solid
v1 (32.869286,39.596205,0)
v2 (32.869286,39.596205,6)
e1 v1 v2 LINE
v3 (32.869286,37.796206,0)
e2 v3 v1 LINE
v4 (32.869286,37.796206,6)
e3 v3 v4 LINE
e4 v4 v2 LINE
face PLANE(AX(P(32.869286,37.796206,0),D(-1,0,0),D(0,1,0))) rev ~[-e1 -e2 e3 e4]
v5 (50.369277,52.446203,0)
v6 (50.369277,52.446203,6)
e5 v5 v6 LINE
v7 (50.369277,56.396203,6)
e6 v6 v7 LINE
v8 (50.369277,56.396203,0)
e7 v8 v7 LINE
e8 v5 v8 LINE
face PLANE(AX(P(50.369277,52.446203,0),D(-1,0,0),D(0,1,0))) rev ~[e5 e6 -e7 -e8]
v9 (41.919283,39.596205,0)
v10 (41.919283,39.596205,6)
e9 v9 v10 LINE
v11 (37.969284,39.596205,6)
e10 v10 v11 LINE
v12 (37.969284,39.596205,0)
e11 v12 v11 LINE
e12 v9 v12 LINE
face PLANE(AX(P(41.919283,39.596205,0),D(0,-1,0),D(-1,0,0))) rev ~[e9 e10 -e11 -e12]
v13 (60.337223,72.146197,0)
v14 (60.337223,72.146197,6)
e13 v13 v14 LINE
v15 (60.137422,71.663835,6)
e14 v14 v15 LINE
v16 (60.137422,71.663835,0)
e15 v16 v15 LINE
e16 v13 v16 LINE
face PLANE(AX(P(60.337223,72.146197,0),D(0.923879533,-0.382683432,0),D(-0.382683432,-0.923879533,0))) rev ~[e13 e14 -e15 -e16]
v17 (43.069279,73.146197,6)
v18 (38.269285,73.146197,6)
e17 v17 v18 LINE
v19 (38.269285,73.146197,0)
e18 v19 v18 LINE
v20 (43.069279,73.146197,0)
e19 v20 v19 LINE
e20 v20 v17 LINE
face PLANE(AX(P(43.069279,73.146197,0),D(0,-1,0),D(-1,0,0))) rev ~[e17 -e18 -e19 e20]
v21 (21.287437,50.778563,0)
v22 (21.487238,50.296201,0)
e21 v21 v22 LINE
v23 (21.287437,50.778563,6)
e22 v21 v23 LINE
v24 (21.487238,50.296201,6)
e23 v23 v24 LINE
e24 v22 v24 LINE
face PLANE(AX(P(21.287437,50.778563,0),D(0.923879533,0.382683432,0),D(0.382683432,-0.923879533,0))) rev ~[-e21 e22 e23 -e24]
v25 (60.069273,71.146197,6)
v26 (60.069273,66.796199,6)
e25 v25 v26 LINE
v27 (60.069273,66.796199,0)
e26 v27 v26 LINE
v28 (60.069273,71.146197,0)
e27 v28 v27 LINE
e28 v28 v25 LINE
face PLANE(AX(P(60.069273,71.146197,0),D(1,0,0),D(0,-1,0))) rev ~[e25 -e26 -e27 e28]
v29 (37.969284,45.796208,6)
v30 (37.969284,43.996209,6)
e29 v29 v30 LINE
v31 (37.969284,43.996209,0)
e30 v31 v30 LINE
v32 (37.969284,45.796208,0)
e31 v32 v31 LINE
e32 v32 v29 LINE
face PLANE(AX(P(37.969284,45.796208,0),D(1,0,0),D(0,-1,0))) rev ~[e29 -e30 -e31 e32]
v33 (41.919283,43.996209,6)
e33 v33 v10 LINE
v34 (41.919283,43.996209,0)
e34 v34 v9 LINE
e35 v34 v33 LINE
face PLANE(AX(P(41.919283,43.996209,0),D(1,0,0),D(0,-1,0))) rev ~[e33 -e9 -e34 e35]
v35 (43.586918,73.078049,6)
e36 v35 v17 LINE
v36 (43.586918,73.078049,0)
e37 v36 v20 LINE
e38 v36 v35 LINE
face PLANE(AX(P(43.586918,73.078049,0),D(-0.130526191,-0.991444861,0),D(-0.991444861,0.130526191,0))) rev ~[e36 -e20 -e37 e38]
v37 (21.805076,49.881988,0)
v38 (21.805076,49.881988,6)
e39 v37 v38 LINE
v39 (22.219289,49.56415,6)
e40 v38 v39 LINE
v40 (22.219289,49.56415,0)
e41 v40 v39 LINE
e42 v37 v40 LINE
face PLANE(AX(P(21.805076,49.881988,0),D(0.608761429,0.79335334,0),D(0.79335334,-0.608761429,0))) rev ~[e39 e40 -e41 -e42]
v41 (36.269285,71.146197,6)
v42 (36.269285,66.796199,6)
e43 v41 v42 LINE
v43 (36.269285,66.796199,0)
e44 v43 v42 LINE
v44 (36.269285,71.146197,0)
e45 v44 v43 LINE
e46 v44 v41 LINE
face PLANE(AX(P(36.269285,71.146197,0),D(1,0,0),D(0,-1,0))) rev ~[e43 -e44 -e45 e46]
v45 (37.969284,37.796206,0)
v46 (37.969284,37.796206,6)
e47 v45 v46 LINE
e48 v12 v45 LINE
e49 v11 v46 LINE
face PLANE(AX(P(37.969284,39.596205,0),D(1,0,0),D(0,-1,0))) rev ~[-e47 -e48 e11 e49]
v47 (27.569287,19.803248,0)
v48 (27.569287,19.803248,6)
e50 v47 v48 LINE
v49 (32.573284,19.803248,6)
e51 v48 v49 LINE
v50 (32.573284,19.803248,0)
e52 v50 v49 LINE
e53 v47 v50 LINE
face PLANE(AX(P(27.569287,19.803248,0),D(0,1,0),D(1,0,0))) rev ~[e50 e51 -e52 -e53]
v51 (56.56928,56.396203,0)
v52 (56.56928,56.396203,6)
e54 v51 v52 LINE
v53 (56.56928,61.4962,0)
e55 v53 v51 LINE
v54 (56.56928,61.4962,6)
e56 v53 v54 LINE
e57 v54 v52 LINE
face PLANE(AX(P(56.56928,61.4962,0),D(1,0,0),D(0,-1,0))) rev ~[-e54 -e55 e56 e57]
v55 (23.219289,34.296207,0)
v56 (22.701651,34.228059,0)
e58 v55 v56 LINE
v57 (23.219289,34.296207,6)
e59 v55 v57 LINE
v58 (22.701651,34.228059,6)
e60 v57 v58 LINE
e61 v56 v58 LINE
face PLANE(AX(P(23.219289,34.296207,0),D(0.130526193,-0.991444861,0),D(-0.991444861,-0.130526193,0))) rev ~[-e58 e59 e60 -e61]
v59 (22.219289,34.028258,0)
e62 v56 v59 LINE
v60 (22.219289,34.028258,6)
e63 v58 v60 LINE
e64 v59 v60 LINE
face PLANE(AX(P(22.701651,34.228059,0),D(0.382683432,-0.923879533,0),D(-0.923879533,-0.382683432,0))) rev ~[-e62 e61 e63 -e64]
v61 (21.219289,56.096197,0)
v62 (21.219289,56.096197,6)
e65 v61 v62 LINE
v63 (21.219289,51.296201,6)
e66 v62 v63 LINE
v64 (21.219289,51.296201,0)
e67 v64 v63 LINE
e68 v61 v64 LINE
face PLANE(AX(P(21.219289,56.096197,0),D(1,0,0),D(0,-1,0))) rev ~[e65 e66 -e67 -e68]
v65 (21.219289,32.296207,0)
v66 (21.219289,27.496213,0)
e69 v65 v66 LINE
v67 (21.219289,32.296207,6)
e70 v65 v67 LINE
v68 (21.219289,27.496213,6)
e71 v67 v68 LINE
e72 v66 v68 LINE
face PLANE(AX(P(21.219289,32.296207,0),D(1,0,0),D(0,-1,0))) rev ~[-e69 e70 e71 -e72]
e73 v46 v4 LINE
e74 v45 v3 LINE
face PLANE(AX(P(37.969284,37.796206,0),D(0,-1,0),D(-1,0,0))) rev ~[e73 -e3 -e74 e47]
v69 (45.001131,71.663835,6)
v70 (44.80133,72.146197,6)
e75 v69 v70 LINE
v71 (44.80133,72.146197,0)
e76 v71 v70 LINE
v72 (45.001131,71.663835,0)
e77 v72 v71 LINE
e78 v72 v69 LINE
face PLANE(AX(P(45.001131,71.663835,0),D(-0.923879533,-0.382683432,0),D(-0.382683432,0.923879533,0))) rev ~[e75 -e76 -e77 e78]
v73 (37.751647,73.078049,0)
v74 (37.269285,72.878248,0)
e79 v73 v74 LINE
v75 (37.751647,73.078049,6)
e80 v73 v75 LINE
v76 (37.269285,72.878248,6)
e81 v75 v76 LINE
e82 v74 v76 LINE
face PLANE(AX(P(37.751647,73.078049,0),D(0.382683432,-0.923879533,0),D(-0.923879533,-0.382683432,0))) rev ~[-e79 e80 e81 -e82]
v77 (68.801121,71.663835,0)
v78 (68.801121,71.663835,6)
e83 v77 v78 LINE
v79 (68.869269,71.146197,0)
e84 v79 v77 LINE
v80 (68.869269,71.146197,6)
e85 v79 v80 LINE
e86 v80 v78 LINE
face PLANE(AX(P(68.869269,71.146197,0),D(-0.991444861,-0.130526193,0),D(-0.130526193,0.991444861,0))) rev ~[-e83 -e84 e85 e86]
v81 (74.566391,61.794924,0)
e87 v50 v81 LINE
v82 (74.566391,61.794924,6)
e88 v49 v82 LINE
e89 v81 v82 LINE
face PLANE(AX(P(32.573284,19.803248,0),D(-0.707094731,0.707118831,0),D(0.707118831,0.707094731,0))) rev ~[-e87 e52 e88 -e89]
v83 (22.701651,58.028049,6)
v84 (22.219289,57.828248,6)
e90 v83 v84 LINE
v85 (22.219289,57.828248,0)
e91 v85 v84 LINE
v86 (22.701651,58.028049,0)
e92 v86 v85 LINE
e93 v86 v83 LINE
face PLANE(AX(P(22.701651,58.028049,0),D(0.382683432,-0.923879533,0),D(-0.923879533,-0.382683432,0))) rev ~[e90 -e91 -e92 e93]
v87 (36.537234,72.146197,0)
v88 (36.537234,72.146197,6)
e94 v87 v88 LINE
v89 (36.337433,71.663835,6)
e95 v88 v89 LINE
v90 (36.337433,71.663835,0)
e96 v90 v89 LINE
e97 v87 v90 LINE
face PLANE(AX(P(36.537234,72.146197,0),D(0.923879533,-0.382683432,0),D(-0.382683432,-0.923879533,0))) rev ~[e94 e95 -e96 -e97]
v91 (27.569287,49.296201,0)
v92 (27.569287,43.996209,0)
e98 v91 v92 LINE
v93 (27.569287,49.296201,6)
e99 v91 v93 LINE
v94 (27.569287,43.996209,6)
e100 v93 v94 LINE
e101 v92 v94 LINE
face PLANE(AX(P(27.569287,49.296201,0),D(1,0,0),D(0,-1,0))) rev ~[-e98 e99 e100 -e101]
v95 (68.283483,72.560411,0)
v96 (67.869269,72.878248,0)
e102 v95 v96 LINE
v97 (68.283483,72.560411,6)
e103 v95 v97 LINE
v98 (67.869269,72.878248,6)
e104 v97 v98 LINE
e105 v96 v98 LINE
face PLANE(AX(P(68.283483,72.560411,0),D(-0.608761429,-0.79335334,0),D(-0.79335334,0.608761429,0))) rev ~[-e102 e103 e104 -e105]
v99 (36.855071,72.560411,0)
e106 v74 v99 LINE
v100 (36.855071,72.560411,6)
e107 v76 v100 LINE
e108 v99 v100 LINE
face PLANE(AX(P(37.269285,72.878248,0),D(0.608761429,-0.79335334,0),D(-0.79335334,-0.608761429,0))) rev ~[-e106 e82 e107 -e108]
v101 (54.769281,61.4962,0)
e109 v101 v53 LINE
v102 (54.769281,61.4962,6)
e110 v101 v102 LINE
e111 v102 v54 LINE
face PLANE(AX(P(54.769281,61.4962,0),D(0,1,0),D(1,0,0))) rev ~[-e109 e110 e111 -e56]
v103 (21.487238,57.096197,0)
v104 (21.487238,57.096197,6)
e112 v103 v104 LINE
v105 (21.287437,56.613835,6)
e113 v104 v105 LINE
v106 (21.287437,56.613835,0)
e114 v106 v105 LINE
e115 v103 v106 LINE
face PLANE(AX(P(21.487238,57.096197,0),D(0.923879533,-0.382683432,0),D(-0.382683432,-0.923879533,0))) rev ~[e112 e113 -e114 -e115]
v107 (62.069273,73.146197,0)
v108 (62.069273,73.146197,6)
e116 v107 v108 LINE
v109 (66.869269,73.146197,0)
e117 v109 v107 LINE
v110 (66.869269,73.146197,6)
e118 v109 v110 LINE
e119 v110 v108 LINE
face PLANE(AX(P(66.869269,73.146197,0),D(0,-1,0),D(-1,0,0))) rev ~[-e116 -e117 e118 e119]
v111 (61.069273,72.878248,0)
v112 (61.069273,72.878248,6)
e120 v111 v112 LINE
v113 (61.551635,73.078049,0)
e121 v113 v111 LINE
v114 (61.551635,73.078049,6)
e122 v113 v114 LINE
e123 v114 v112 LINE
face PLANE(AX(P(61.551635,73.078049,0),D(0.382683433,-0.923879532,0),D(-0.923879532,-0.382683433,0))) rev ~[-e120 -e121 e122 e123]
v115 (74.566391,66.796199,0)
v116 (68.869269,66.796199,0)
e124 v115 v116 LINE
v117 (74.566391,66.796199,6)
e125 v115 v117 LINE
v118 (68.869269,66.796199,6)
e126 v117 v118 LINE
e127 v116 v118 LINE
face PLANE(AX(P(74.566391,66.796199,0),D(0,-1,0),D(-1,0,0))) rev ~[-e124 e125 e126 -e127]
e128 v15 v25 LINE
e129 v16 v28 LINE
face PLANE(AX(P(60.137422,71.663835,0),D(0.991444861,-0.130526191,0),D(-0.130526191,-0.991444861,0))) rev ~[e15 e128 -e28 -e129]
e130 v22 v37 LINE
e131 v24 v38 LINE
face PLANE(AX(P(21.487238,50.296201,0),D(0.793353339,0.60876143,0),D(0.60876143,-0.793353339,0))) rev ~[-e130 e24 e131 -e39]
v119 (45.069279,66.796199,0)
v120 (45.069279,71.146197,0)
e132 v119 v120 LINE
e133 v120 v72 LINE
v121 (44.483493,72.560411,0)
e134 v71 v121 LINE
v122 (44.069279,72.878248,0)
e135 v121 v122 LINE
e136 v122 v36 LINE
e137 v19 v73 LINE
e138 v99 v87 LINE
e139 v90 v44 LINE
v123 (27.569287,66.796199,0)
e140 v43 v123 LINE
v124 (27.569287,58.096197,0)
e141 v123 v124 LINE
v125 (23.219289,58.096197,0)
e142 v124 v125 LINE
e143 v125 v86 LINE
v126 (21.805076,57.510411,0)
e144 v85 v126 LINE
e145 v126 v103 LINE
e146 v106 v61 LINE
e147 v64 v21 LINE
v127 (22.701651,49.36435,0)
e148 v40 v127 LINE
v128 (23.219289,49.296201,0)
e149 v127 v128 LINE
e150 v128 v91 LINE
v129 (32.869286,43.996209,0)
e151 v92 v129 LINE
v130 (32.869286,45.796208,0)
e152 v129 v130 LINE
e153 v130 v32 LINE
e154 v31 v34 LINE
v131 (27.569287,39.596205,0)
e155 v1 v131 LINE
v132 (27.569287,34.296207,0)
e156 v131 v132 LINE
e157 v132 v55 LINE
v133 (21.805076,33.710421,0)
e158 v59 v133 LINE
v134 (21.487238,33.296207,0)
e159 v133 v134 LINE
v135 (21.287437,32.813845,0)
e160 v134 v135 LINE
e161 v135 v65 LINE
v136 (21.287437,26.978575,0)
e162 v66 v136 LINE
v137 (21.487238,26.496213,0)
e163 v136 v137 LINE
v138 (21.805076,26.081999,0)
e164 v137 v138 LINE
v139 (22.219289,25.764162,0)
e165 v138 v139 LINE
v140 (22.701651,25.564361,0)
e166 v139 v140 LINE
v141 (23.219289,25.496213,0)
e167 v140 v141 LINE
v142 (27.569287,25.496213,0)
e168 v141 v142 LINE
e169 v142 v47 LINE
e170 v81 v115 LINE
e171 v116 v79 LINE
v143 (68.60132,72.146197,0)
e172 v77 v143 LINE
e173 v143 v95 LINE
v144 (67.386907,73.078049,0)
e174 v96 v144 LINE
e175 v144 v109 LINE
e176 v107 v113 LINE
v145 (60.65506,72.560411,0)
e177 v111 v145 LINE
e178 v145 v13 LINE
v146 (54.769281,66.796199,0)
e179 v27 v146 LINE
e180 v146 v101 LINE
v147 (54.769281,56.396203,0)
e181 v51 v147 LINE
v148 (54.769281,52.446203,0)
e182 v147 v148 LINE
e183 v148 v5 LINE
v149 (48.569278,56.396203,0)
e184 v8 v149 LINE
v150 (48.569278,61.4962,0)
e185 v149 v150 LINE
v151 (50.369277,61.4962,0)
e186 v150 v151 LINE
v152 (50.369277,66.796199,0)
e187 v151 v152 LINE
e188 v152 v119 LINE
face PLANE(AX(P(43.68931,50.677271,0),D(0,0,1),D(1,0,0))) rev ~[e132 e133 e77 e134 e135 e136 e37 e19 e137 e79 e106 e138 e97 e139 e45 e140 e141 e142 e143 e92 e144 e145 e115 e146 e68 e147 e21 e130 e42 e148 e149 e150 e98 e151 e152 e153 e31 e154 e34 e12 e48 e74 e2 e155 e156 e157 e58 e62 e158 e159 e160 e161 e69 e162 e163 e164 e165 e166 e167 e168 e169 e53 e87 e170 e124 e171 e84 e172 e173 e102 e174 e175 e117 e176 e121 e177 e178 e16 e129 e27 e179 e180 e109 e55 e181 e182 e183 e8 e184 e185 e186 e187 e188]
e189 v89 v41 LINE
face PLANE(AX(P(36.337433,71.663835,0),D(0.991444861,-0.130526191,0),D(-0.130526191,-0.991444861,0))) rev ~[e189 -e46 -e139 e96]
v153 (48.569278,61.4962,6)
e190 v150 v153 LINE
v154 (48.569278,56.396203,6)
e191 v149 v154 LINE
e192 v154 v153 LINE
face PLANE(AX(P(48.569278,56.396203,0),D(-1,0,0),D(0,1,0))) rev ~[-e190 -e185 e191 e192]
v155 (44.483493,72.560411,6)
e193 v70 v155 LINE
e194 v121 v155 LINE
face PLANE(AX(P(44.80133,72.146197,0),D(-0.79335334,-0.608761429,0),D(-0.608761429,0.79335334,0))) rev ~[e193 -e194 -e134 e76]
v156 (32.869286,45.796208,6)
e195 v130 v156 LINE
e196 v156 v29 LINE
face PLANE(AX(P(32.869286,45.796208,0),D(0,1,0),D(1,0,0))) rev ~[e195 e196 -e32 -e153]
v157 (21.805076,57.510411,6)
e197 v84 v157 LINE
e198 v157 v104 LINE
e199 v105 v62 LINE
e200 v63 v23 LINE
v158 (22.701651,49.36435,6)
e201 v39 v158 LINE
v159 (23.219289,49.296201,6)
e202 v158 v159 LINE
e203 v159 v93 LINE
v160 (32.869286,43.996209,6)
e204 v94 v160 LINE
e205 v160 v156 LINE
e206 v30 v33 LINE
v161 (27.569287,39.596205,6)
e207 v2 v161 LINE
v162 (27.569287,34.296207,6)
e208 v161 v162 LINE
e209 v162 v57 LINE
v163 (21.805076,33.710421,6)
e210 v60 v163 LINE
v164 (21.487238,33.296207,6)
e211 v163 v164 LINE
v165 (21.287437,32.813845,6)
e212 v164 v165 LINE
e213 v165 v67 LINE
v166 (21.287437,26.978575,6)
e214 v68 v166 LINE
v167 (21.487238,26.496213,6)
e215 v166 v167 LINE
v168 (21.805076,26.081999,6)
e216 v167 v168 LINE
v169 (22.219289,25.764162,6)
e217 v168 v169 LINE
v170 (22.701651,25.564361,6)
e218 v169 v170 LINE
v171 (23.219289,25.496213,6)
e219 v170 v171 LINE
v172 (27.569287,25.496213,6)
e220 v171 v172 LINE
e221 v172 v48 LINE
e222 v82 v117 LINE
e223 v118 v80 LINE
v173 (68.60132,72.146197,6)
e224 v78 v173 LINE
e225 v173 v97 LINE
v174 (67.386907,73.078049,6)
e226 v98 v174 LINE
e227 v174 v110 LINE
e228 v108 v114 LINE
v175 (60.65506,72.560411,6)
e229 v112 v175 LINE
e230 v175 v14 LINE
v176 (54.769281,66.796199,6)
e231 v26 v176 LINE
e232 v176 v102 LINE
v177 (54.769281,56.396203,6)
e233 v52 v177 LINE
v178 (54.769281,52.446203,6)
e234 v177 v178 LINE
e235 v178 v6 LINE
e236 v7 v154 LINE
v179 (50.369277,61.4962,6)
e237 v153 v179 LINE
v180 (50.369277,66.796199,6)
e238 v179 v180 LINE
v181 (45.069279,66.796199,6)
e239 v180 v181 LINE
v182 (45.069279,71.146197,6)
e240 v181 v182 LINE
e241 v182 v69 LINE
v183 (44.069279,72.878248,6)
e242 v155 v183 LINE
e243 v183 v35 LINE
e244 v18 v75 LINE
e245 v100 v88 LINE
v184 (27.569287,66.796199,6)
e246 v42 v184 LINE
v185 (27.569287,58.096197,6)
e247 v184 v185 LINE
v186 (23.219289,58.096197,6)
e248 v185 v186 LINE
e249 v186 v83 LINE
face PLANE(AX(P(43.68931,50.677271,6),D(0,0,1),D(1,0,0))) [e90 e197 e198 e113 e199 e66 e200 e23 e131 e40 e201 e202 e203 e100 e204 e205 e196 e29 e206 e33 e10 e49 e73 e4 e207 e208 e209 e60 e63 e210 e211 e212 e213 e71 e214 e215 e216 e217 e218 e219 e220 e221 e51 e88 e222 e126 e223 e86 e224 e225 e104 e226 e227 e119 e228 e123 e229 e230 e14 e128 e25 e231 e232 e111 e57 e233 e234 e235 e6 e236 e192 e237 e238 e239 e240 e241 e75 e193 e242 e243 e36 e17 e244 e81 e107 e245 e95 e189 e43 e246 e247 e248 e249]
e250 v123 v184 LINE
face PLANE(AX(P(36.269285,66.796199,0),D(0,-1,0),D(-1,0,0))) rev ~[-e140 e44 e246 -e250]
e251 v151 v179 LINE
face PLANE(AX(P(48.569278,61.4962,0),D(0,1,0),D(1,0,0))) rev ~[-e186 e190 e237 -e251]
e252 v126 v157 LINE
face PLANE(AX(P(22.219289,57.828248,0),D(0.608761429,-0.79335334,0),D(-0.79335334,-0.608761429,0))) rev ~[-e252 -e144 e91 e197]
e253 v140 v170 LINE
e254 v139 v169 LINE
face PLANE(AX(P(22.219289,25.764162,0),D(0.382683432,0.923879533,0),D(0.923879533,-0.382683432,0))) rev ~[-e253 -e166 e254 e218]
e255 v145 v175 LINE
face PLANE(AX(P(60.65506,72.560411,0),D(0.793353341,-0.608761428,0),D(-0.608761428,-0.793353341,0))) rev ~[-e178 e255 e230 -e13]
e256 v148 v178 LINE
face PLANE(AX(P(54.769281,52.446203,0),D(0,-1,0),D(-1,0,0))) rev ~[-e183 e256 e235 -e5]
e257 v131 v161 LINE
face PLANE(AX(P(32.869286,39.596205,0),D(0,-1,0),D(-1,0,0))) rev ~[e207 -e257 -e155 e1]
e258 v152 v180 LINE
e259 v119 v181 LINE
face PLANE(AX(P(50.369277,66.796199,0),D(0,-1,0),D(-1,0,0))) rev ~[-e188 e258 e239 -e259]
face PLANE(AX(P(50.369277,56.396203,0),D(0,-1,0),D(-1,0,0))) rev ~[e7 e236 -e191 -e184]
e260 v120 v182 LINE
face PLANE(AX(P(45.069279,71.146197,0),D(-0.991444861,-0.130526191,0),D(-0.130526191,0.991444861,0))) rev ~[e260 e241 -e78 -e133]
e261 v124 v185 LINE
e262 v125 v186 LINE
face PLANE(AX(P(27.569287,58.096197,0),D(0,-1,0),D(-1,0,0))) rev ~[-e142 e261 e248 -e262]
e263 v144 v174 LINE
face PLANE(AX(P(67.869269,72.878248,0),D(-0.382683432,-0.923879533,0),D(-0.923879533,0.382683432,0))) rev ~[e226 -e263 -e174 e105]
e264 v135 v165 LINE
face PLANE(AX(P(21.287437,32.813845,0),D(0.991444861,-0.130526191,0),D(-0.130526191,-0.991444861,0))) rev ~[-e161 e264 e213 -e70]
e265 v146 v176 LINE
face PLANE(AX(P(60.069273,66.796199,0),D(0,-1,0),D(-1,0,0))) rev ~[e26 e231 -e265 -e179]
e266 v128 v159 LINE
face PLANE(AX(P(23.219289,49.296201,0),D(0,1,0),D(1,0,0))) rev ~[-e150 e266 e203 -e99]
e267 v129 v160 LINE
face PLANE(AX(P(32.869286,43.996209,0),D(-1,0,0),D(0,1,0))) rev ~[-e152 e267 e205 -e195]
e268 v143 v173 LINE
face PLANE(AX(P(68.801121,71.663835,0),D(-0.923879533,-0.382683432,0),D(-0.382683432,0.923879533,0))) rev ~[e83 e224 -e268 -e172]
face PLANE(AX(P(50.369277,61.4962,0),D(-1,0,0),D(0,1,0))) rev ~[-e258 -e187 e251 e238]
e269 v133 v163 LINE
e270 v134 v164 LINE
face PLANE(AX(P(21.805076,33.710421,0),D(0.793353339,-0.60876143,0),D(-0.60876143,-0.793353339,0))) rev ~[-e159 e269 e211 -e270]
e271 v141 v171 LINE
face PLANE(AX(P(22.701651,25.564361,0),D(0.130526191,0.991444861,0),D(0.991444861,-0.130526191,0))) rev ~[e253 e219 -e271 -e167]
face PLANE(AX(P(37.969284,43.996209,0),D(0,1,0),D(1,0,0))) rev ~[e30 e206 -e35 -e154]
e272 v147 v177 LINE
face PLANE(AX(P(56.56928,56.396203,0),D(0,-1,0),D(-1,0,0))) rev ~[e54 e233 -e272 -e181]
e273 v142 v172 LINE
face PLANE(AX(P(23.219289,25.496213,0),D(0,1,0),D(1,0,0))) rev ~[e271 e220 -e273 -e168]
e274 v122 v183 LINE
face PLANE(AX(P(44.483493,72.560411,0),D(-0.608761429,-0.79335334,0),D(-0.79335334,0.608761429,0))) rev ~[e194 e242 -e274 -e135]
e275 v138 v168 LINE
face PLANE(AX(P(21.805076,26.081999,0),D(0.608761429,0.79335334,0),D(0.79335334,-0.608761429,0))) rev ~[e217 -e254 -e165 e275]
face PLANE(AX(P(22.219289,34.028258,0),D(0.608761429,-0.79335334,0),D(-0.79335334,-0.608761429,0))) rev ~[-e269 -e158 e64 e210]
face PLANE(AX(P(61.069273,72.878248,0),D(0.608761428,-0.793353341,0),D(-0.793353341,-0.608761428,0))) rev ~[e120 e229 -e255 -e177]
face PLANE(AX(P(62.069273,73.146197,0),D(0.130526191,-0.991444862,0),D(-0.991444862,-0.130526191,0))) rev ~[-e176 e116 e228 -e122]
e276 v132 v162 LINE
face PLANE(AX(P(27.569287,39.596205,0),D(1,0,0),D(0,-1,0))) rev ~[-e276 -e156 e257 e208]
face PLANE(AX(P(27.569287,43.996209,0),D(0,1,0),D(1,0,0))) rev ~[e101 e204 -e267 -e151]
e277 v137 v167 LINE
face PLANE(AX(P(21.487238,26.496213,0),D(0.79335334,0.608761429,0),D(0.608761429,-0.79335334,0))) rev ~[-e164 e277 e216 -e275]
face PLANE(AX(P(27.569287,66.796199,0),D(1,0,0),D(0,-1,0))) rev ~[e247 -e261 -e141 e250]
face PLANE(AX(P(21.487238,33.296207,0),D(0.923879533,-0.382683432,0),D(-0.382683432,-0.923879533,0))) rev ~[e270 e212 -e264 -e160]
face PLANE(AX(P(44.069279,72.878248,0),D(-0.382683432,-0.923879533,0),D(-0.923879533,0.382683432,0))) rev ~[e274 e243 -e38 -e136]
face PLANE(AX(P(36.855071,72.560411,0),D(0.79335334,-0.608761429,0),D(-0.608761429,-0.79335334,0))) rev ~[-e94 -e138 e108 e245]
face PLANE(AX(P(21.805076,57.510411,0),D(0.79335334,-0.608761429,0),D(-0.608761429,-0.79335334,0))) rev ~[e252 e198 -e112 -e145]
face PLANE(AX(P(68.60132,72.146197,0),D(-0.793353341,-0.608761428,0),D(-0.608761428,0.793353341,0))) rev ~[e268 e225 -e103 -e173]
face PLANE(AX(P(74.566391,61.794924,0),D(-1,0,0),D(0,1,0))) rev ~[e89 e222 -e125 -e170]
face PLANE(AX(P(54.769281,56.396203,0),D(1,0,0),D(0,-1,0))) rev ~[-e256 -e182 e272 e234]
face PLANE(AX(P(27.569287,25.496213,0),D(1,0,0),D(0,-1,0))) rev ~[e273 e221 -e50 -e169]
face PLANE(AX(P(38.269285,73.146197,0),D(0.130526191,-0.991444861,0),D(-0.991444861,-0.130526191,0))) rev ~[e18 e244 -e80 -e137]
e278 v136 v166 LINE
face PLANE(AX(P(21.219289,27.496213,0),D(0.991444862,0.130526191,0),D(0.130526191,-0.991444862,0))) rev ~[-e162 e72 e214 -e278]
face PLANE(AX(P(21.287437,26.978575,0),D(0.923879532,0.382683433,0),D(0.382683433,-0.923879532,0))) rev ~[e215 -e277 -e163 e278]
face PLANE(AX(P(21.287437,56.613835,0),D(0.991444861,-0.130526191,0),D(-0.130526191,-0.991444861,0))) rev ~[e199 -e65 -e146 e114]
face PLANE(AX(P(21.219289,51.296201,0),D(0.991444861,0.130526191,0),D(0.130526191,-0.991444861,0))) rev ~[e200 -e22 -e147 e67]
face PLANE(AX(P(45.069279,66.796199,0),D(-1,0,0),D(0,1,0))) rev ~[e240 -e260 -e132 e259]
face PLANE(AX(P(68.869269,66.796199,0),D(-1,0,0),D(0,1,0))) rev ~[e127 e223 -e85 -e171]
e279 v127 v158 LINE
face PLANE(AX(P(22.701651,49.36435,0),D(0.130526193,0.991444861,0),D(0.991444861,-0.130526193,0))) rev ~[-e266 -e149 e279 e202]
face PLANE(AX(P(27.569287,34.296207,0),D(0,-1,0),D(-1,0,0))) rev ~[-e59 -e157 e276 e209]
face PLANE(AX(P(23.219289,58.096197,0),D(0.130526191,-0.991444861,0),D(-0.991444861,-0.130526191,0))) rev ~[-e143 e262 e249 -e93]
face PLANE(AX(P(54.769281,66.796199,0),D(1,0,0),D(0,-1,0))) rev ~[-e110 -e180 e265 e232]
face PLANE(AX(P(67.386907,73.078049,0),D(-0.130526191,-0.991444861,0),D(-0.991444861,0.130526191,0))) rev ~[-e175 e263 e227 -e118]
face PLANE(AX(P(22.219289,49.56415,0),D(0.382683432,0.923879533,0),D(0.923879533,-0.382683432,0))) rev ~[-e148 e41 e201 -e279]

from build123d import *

# Parameters (mm, degrees)
RESSALTO_EXTRUS_O1_DEPTH = 6


with BuildPart() as part:
    # Model → Ressalto-extrusão1 (new body)
    with BuildSketch(Plane.XY):
        Polygon((37.969283539, 43.996209277), (41.919283362, 43.996209277), (41.919283362, 39.596204606), (37.969283539, 39.596204606), (37.969283539, 37.796206374), (32.869285775, 37.796206374), (32.869285775, 39.596204606), (27.569286953, 39.596204606), (27.569286953, 34.296207351), (23.219289062, 34.296207351), (22.701650972, 34.228059003), (22.219289062, 34.028258158), (21.8050755, 33.710420913), (21.487238254, 33.296207351), (21.287437409, 32.813845441), (21.219289062, 32.296207351), (21.219289062, 27.496212909), (21.287437409, 26.978574818), (21.487238254, 26.496212909), (21.8050755, 26.081999346), (22.219289062, 25.764162101), (22.701650972, 25.564361256), (23.219289062, 25.496212909), (27.569286953, 25.496212909), (27.569286953, 19.803247953), (32.573283526, 19.803247953), (74.566390822, 61.794924044), (74.566390822, 66.796199314), (68.869269338, 66.796199314), (68.869269338, 71.146197205), (68.80112099, 71.663835295), (68.601320145, 72.146197205), (68.2834829, 72.560410768), (67.869269338, 72.878248013), (67.386907428, 73.078048858), (66.869269338, 73.146197205), (62.069273373, 73.146197205), (61.551635282, 73.078048858), (61.069273373, 72.878248013), (60.65505981, 72.560410768), (60.337222565, 72.146197205), (60.13742172, 71.663835295), (60.069273373, 71.146197205), (60.069273373, 66.796199314), (54.769281366, 66.796199314), (54.769281366, 61.496200492), (56.569279598, 61.496200492), (56.569279598, 56.396202728), (54.769281366, 56.396202728), (54.769281366, 52.446202905), (50.369276694, 52.446202905), (50.369276694, 56.396202728), (48.569278462, 56.396202728), (48.569278462, 61.496200492), (50.369276694, 61.496200492), (50.369276694, 66.796199314), (45.069279439, 66.796199314), (45.069279439, 71.146197205), (45.001131092, 71.663835295), (44.801330247, 72.146197205), (44.483493001, 72.560410768), (44.069279439, 72.878248013), (43.586917529, 73.078048858), (43.069279439, 73.146197205), (38.269284997, 73.146197205), (37.751646907, 73.078048858), (37.269284997, 72.878248013), (36.855071435, 72.560410768), (36.537234189, 72.146197205), (36.337433344, 71.663835295), (36.269284997, 71.146197205), (36.269284997, 66.796199314), (27.569286953, 66.796199314), (27.569286953, 58.096197249), (23.219289062, 58.096197249), (22.701650972, 58.028048902), (22.219289062, 57.828248057), (21.8050755, 57.510410812), (21.487238254, 57.096197249), (21.287437409, 56.613835339), (21.219289062, 56.096197249), (21.219289062, 51.296201284), (21.287437409, 50.778563194), (21.487238254, 50.296201284), (21.8050755, 49.881987722), (22.219289062, 49.564150477), (22.701650972, 49.364349632), (23.219289062, 49.296201284), (27.569286953, 49.296201284), (27.569286953, 43.996209277), (32.869285775, 43.996209277), (32.869285775, 45.796207509), (37.969283539, 45.796207509), align=None)
    extrude(amount=RESSALTO_EXTRUS_O1_DEPTH)


solid = part.part
